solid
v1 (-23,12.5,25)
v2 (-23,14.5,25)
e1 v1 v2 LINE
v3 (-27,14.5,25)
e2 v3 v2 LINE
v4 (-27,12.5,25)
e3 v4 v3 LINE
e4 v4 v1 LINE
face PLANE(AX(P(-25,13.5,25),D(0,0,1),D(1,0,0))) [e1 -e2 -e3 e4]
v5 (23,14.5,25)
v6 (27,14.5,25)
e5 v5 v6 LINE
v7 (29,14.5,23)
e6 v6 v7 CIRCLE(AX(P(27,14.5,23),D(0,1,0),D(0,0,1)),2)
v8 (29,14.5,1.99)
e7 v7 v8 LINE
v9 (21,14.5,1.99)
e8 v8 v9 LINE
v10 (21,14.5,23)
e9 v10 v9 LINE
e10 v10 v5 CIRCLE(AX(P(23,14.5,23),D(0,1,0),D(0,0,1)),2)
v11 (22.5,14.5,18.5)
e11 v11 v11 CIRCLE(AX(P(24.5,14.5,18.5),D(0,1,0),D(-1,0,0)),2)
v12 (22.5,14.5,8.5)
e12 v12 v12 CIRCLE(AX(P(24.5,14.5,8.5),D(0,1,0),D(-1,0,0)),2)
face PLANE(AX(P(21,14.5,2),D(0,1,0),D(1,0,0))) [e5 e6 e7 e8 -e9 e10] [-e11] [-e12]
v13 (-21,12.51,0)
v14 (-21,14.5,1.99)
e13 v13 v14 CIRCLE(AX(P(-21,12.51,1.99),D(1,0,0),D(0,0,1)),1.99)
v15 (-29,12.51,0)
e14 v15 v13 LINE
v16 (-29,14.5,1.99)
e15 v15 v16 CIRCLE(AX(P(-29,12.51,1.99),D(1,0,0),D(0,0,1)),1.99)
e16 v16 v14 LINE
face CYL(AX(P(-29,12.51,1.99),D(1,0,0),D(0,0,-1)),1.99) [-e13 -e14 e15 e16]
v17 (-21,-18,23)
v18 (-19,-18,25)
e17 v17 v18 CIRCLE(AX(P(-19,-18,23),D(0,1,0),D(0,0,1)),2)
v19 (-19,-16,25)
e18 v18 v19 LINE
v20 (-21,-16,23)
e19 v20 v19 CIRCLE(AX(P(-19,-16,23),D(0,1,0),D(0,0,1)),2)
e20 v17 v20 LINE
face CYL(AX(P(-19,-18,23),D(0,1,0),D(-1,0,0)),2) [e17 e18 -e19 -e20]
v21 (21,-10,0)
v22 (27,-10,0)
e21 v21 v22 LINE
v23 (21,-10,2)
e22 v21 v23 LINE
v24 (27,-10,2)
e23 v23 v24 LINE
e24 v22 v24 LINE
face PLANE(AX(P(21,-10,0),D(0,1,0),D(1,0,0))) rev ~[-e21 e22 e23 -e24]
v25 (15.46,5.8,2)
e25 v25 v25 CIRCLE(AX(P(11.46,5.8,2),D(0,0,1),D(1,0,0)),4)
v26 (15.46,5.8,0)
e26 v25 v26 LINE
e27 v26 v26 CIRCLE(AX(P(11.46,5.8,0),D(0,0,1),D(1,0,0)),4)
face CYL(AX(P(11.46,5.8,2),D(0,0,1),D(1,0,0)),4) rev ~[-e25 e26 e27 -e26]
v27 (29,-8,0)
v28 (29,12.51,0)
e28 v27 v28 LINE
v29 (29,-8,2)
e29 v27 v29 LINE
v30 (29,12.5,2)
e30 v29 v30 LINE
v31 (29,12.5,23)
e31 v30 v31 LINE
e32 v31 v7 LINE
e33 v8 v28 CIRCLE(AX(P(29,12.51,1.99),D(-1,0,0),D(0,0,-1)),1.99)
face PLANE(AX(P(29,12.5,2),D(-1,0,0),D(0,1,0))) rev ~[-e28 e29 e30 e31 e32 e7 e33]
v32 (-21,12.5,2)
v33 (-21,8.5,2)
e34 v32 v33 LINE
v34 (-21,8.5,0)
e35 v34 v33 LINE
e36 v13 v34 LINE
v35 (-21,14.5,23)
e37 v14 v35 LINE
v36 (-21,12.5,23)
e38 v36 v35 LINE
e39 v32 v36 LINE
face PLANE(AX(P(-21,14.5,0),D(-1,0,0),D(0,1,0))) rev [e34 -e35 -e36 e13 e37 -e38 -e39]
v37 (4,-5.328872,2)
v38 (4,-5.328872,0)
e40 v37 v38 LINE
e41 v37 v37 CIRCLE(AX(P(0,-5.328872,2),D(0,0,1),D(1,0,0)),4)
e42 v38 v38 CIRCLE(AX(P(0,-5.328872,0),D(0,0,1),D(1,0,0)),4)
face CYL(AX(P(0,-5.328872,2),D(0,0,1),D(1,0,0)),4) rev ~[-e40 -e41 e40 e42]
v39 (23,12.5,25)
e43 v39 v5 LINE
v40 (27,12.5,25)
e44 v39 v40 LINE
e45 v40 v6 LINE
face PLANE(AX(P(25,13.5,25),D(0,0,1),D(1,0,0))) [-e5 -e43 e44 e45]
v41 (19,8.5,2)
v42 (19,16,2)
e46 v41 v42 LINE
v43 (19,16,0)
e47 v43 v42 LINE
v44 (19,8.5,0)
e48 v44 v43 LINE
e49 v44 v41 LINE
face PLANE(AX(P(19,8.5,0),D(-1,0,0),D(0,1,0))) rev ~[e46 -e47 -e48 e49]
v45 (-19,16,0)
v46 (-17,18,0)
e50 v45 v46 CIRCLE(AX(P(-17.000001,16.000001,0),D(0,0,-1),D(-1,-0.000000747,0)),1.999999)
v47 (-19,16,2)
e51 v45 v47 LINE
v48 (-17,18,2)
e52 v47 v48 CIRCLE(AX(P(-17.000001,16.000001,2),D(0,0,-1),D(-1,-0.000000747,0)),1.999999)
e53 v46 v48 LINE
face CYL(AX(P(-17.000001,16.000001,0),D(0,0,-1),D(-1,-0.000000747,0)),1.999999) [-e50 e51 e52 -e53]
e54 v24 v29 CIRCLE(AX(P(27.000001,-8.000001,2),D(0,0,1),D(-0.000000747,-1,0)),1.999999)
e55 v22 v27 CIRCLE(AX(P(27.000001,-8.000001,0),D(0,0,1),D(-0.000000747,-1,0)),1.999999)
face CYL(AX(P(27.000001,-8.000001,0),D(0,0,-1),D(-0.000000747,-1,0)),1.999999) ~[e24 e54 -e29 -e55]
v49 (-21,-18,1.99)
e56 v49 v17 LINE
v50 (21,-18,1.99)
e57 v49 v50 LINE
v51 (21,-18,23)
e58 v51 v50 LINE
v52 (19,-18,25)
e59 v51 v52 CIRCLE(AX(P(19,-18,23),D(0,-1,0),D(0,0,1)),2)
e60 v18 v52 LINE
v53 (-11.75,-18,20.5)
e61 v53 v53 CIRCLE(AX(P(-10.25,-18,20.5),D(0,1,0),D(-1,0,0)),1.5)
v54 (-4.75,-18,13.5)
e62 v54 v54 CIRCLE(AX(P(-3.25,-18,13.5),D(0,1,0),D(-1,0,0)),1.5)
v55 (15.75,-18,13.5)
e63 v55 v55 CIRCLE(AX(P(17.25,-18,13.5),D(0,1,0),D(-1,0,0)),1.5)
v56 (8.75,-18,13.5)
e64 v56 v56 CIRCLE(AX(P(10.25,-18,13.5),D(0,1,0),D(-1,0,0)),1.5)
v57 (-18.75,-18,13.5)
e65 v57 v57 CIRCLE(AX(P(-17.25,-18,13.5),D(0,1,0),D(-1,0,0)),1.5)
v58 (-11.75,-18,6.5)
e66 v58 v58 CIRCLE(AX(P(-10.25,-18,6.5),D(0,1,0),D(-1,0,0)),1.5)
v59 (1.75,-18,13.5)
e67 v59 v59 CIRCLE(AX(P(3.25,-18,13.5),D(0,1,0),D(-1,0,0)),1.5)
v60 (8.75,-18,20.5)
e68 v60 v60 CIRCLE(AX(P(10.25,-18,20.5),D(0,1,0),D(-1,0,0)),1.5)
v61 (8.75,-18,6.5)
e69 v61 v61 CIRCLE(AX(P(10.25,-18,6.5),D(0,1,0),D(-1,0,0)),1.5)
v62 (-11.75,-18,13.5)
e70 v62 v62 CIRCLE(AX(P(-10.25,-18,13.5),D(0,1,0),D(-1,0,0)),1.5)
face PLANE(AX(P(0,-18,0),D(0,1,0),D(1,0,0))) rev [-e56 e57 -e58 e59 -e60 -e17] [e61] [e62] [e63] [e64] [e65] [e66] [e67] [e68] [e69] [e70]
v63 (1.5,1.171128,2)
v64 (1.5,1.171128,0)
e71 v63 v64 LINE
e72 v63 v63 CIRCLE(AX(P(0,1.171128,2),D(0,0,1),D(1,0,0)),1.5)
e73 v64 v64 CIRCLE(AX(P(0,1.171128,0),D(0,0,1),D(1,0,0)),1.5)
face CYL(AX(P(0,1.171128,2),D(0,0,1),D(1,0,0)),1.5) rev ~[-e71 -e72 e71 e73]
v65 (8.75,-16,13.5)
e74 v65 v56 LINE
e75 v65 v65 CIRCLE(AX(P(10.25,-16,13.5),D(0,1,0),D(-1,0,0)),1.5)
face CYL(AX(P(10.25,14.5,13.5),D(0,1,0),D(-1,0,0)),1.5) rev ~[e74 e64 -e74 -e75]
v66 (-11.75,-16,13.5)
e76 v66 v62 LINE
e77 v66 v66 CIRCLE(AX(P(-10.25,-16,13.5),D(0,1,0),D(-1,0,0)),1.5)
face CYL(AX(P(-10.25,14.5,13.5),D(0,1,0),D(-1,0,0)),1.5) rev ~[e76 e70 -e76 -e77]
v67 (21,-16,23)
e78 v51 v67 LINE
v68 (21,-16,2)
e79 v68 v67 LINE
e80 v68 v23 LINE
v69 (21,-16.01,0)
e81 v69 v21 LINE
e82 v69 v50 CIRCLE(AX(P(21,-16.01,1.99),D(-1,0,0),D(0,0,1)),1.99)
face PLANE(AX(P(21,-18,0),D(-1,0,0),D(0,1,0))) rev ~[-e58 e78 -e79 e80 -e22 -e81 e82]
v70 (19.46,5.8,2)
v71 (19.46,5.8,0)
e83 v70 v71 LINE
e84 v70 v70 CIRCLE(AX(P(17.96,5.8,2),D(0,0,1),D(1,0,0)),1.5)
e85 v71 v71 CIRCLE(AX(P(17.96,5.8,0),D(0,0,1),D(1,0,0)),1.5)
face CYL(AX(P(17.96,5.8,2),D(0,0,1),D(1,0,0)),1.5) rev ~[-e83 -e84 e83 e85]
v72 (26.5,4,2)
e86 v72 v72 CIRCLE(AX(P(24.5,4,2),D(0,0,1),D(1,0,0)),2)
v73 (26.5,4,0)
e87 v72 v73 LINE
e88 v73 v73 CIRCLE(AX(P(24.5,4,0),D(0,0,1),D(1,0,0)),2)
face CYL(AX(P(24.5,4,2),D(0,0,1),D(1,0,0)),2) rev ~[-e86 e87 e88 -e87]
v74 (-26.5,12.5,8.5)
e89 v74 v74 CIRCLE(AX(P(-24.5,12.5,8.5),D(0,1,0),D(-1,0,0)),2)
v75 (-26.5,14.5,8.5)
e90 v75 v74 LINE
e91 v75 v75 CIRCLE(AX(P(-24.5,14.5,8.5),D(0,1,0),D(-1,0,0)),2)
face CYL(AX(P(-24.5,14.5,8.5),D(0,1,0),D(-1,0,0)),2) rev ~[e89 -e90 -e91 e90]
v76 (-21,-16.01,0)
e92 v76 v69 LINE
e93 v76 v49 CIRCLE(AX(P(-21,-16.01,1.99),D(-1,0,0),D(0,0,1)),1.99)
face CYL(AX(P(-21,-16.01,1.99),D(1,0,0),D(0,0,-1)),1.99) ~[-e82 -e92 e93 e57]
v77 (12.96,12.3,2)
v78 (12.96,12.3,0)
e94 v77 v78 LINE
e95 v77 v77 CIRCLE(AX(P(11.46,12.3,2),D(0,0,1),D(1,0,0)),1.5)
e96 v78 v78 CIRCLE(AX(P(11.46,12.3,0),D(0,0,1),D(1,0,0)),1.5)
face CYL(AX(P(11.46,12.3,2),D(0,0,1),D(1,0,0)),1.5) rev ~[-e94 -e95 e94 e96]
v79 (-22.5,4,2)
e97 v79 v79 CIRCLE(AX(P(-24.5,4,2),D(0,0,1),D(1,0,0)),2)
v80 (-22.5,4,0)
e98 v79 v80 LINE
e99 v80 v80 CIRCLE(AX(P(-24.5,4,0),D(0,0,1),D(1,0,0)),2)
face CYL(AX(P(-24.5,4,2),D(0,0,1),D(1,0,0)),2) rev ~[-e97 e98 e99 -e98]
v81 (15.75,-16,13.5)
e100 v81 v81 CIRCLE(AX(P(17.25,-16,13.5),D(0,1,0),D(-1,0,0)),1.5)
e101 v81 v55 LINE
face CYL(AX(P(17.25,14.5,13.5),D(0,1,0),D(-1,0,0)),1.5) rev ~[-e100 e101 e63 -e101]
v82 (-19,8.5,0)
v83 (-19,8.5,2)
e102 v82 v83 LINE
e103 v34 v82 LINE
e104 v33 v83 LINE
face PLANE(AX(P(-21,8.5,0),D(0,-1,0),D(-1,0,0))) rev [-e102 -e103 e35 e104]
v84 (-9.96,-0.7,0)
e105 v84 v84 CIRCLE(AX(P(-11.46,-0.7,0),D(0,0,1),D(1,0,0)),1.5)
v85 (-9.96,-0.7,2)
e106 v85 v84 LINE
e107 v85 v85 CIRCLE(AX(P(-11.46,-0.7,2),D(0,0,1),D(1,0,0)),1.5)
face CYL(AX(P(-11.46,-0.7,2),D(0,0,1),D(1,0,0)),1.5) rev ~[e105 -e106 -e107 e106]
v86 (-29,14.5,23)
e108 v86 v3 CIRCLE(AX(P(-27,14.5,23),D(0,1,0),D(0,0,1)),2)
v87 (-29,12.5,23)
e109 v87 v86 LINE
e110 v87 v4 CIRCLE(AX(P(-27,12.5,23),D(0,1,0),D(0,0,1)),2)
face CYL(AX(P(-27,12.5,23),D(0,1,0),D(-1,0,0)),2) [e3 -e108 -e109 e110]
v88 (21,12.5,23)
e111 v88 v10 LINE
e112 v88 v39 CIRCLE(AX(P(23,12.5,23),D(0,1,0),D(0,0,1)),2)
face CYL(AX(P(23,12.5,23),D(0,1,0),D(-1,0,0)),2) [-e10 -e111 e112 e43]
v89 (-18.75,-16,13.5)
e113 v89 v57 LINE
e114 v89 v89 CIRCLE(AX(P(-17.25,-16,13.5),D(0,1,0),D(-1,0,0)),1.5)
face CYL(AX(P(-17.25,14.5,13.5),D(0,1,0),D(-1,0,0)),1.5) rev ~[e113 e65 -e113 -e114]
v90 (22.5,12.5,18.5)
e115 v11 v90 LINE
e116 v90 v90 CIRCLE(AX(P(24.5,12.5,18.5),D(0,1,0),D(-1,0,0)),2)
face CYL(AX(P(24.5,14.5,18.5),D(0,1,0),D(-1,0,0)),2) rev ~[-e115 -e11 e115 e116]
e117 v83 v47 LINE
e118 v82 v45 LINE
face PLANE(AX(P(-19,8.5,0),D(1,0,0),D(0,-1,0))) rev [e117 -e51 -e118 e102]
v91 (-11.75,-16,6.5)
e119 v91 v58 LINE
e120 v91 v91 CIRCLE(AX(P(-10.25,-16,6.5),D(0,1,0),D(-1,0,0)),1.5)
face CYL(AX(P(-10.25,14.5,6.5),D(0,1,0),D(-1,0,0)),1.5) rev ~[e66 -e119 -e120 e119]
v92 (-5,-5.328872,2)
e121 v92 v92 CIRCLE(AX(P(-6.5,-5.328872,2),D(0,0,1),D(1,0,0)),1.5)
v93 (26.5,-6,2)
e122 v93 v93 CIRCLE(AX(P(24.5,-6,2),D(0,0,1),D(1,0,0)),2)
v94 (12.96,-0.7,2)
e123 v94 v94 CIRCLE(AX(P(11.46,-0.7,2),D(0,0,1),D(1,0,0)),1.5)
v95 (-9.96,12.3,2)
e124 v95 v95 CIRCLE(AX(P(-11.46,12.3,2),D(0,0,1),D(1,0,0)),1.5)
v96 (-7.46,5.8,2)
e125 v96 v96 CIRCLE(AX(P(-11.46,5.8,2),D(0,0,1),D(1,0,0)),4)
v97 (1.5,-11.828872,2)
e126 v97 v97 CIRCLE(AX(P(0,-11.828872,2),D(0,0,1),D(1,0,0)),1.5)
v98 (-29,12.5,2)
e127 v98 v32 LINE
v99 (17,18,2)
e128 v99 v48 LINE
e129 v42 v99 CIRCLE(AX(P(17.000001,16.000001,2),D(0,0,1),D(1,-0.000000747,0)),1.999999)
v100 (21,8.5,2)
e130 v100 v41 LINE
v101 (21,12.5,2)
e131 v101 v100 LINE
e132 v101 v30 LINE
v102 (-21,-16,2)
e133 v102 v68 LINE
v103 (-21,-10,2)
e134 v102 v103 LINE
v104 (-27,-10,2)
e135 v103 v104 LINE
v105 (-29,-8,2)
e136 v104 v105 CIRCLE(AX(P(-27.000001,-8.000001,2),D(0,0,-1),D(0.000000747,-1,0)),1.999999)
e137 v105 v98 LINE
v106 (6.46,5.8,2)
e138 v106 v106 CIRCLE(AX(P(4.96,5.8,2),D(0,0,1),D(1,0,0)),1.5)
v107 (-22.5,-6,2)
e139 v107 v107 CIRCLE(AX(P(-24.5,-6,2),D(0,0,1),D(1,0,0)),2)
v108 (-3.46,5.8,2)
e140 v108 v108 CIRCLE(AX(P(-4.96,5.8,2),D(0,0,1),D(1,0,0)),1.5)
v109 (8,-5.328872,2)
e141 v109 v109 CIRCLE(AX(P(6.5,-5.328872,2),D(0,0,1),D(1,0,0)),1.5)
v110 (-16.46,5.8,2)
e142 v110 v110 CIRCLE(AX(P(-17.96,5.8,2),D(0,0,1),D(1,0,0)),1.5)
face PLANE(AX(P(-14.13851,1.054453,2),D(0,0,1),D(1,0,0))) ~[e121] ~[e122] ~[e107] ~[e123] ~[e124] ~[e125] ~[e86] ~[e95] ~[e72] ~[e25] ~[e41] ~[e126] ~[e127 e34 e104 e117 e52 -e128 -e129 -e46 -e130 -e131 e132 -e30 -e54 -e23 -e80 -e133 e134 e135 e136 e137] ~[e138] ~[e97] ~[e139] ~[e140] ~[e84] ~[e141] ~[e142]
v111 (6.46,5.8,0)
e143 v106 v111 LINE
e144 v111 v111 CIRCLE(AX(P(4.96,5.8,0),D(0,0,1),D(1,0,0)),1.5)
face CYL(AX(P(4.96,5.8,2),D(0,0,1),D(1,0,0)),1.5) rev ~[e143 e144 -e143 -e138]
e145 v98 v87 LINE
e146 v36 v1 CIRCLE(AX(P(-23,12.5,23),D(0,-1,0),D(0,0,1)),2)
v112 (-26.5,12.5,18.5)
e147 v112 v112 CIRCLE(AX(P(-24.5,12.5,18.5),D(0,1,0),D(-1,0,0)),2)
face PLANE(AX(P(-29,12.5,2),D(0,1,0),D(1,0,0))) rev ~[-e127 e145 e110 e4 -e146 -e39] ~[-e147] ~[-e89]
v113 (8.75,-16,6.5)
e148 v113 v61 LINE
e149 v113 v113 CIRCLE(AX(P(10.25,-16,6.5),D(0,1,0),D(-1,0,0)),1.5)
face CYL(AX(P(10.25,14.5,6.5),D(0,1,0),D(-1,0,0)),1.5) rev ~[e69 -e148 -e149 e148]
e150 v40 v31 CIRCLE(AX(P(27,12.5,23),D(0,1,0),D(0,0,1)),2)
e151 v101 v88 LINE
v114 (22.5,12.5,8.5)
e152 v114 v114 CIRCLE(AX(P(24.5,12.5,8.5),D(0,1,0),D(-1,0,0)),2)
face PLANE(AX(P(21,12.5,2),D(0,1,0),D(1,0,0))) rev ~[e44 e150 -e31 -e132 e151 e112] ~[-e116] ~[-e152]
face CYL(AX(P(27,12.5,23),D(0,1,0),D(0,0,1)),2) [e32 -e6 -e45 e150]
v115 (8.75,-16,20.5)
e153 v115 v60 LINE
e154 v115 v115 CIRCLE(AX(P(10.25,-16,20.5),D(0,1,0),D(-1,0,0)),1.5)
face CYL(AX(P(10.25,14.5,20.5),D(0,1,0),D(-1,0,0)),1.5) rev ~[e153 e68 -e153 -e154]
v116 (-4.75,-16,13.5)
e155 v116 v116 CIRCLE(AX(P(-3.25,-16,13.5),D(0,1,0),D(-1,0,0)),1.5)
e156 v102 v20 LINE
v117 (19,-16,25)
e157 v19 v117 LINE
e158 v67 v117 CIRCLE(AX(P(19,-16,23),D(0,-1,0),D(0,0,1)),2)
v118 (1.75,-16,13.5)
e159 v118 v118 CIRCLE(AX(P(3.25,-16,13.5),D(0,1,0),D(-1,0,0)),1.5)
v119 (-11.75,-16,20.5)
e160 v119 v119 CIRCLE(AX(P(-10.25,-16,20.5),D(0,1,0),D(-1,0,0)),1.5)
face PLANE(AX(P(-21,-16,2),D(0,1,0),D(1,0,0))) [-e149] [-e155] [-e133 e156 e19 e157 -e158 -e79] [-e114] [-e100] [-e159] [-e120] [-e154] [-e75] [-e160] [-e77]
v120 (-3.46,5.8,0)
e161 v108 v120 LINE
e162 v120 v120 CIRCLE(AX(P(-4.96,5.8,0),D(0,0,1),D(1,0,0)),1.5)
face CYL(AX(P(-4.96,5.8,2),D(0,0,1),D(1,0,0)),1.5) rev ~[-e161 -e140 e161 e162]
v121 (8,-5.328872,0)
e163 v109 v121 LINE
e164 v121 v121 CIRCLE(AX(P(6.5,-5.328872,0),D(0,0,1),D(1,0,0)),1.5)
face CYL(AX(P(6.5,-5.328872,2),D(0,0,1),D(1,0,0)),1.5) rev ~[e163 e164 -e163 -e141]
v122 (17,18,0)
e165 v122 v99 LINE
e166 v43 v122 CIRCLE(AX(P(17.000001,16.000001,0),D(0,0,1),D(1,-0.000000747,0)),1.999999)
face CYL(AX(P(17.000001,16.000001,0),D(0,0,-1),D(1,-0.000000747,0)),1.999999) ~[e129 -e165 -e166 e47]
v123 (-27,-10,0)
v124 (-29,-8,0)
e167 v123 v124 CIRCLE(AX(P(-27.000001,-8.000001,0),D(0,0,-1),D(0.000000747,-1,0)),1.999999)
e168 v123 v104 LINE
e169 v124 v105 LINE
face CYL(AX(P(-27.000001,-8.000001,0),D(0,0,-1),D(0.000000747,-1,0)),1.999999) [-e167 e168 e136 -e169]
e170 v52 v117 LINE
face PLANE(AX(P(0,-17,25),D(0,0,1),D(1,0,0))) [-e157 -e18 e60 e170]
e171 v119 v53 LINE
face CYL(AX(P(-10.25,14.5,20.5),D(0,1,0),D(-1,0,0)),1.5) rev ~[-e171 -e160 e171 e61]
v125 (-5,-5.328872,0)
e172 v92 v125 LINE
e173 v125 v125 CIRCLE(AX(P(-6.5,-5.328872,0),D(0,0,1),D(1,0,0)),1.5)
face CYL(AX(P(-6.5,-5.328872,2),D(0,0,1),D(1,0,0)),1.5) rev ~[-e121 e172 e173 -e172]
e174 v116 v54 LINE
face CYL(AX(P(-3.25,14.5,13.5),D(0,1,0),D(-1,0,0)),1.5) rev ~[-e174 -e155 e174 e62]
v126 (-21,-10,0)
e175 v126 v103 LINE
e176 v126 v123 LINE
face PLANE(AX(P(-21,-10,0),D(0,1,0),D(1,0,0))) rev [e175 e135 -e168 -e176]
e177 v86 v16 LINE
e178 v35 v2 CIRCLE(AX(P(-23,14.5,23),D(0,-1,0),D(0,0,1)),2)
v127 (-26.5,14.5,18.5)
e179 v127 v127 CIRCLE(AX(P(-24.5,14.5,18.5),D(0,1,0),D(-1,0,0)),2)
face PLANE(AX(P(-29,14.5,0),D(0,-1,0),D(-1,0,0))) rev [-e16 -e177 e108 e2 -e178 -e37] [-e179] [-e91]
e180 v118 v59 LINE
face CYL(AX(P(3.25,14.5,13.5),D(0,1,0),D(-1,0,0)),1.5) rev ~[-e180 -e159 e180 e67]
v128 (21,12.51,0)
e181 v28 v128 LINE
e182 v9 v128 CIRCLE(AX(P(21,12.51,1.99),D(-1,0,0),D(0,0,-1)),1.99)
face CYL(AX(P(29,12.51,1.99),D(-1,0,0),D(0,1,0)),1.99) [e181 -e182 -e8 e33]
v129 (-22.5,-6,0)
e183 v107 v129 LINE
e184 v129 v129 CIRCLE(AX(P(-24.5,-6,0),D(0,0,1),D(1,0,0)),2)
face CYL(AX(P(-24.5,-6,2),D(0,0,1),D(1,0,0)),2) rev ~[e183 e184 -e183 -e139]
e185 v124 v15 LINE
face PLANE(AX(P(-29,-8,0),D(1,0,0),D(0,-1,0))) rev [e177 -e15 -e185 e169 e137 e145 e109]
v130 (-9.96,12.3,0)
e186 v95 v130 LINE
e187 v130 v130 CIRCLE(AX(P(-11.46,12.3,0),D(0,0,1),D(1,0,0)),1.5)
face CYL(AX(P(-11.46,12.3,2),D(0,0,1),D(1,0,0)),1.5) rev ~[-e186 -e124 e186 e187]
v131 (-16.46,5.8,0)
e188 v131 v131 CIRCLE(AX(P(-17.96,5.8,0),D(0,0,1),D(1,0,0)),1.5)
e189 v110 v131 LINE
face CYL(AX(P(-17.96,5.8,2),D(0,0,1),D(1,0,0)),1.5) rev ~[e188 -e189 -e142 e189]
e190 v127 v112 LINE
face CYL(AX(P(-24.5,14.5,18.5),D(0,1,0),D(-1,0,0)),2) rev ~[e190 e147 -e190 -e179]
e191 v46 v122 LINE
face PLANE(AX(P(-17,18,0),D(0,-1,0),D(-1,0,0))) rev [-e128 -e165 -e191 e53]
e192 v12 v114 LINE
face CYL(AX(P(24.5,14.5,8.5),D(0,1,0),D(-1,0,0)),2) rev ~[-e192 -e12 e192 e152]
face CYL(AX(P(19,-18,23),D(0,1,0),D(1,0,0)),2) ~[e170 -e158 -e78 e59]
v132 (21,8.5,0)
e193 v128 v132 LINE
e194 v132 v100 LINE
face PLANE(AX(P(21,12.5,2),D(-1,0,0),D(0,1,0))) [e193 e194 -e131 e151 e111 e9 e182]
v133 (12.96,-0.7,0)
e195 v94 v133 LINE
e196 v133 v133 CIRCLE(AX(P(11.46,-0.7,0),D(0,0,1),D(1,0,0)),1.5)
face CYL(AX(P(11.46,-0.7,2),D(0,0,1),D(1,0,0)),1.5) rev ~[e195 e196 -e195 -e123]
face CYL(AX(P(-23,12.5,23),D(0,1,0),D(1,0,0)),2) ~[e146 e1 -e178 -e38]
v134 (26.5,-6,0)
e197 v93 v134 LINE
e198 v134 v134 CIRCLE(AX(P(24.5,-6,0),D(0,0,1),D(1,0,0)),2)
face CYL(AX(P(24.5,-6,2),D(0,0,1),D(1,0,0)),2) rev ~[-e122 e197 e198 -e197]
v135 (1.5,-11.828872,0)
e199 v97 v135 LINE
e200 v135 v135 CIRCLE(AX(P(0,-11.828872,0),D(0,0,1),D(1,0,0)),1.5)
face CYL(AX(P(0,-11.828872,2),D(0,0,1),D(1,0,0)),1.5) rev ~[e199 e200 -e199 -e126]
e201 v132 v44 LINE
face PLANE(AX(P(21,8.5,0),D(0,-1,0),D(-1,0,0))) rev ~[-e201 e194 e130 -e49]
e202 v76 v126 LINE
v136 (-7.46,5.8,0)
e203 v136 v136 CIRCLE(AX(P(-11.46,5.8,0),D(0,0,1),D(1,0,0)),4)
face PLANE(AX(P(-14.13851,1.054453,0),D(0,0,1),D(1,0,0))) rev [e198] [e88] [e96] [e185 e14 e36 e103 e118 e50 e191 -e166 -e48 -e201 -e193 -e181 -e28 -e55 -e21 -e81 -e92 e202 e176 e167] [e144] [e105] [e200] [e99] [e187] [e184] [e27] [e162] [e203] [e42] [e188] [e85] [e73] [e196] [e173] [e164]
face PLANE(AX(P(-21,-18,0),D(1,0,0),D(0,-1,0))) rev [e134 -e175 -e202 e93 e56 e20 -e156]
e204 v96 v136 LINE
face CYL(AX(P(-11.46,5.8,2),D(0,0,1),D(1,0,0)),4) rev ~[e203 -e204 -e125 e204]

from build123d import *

# Parameters (mm, degrees)
PAD_DEPTH       = 2
SKETCH001_W     = 8
SKETCH001_H     = 2
SKETCH001_W_2   = 42
PAD001_DEPTH    = 23
SKETCH002_R     = 1.5
SKETCH002_R_2   = 4
SKETCH002_R_3   = 2
POCKET_DEPTH    = 5
SKETCH003_R     = 2
SKETCH003_R_2   = 1.5
POCKET001_DEPTH = 32.501
FILLET_R        = 2
FILLET001_R     = 1.99


with BuildPart() as part:
    # Sketch → Pad (new body)
    with BuildSketch(Plane.XY):
        with BuildLine():
            Line((0, -18), (21, -18))
            Line((21, -18), (21, -10))
            Line((21, -10), (27, -10))
            ThreePointArc((27, -10), (28.414214, -9.414214), (29, -8))
            Line((29, -8), (29, 14.5))
            Line((29, 14.5), (21, 14.5))
            Line((21, 14.5), (21, 8.5))
            Line((21, 8.5), (19, 8.5))
            Line((19, 8.5), (19, 16))
            ThreePointArc((19, 16), (18.414214, 17.414214), (17, 18))
            Line((17, 18), (0, 18))
            Line((0, 18), (0, -18))
        make_face()
    pad = extrude(amount=PAD_DEPTH)

    # Mirrored: Pad across Sketch V_Axis
    add(pad.mirror(Plane(origin=(0, 0, 0), x_dir=(0, 0, 1), z_dir=(1, 0, 0))))

    # Sketch001 (on Face5 of Mirrored) → Pad001 (join)
    with BuildSketch(Plane.XY.offset(2)):
        with Locations((25, 13.5)):
            Rectangle(SKETCH001_W, SKETCH001_H)
        with Locations((-25, 13.5)):
            Rectangle(SKETCH001_W, SKETCH001_H)
        with Locations((0, -17)):
            Rectangle(SKETCH001_W_2, SKETCH001_H)
    extrude(amount=PAD001_DEPTH)

    # Sketch002 (on Face10 of Pad001) → Pocket (cut)
    with BuildSketch(Plane.XY.offset(2)):
        with Locations((-11.46, 12.3)):
            Circle(SKETCH002_R)
        with Locations((-11.46, 5.8)):
            Circle(SKETCH002_R_2)
        with Locations((-4.96, 5.8)):
            Circle(SKETCH002_R)
        with Locations((-17.96, 5.8)):
            Circle(SKETCH002_R)
        with Locations((-11.46, -0.7)):
            Circle(SKETCH002_R)
        with Locations((11.46, 12.3)):
            Circle(SKETCH002_R)
        with Locations((11.46, 5.8)):
            Circle(SKETCH002_R_2)
        with Locations((4.96, 5.8)):
            Circle(SKETCH002_R)
        with Locations((17.96, 5.8)):
            Circle(SKETCH002_R)
        with Locations((11.46, -0.7)):
            Circle(SKETCH002_R)
        with Locations((0, 1.171128)):
            Circle(SKETCH002_R)
        with Locations((0, -5.328872)):
            Circle(SKETCH002_R_2)
        with Locations((6.5, -5.328872)):
            Circle(SKETCH002_R)
        with Locations((-6.5, -5.328872)):
            Circle(SKETCH002_R)
        with Locations((0, -11.828872)):
            Circle(SKETCH002_R)
        with Locations((-24.5, 4)):
            Circle(SKETCH002_R_3)
        with Locations((-24.5, -6)):
            Circle(SKETCH002_R_3)
        with Locations((24.5, 4)):
            Circle(SKETCH002_R_3)
        with Locations((24.5, -6)):
            Circle(SKETCH002_R_3)
    extrude(amount=-POCKET_DEPTH, mode=Mode.SUBTRACT)

    # Sketch003 (on Face53 of Pocket) → Pocket001 (cut, through all)
    with BuildSketch(Plane(origin=(0, 14.5, 0), x_dir=(-1, 0, 0), z_dir=(0, 1, 0))):
        with Locations((-24.5, 18.5)):
            Circle(SKETCH003_R)
        with Locations((-24.5, 8.5)):
            Circle(SKETCH003_R)
        with Locations((24.5, 18.5)):
            Circle(SKETCH003_R)
        with Locations((24.5, 8.5)):
            Circle(SKETCH003_R)
        with Locations((-10.25, 20.5)):
            Circle(SKETCH003_R_2)
        with Locations((-10.25, 13.5)):
            Circle(SKETCH003_R_2)
        with Locations((-10.25, 6.5)):
            Circle(SKETCH003_R_2)
        with Locations((-3.25, 13.5)):
            Circle(SKETCH003_R_2)
        with Locations((-17.25, 13.5)):
            Circle(SKETCH003_R_2)
        with Locations((10.25, 20.5)):
            Circle(SKETCH003_R_2)
        with Locations((10.25, 13.5)):
            Circle(SKETCH003_R_2)
        with Locations((10.25, 6.5)):
            Circle(SKETCH003_R_2)
        with Locations((3.25, 13.5)):
            Circle(SKETCH003_R_2)
        with Locations((17.25, 13.5)):
            Circle(SKETCH003_R_2)
    extrude(amount=-POCKET001_DEPTH, mode=Mode.SUBTRACT)

    # Fillet
    fillet_edges = [part.edges().sort_by_distance(p)[0] for p in [
        (29, 13.5, 25),
        (21, 13.5, 25),
        (21, -17, 25),
        (-21, -17, 25),
        (-21, 13.5, 25),
        (-29, 13.5, 25),
    ]]
    fillet(fillet_edges, radius=FILLET_R)

    # Fillet001
    fillet001_edges = [part.edges().sort_by_distance(p)[0] for p in [
        (25, 14.5, 0),
        (-25, 14.5, 0),
        (-10.5, -18, 0),
        (10.5, -18, 0),
    ]]
    fillet(fillet001_edges, radius=FILLET001_R)


solid = part.part
